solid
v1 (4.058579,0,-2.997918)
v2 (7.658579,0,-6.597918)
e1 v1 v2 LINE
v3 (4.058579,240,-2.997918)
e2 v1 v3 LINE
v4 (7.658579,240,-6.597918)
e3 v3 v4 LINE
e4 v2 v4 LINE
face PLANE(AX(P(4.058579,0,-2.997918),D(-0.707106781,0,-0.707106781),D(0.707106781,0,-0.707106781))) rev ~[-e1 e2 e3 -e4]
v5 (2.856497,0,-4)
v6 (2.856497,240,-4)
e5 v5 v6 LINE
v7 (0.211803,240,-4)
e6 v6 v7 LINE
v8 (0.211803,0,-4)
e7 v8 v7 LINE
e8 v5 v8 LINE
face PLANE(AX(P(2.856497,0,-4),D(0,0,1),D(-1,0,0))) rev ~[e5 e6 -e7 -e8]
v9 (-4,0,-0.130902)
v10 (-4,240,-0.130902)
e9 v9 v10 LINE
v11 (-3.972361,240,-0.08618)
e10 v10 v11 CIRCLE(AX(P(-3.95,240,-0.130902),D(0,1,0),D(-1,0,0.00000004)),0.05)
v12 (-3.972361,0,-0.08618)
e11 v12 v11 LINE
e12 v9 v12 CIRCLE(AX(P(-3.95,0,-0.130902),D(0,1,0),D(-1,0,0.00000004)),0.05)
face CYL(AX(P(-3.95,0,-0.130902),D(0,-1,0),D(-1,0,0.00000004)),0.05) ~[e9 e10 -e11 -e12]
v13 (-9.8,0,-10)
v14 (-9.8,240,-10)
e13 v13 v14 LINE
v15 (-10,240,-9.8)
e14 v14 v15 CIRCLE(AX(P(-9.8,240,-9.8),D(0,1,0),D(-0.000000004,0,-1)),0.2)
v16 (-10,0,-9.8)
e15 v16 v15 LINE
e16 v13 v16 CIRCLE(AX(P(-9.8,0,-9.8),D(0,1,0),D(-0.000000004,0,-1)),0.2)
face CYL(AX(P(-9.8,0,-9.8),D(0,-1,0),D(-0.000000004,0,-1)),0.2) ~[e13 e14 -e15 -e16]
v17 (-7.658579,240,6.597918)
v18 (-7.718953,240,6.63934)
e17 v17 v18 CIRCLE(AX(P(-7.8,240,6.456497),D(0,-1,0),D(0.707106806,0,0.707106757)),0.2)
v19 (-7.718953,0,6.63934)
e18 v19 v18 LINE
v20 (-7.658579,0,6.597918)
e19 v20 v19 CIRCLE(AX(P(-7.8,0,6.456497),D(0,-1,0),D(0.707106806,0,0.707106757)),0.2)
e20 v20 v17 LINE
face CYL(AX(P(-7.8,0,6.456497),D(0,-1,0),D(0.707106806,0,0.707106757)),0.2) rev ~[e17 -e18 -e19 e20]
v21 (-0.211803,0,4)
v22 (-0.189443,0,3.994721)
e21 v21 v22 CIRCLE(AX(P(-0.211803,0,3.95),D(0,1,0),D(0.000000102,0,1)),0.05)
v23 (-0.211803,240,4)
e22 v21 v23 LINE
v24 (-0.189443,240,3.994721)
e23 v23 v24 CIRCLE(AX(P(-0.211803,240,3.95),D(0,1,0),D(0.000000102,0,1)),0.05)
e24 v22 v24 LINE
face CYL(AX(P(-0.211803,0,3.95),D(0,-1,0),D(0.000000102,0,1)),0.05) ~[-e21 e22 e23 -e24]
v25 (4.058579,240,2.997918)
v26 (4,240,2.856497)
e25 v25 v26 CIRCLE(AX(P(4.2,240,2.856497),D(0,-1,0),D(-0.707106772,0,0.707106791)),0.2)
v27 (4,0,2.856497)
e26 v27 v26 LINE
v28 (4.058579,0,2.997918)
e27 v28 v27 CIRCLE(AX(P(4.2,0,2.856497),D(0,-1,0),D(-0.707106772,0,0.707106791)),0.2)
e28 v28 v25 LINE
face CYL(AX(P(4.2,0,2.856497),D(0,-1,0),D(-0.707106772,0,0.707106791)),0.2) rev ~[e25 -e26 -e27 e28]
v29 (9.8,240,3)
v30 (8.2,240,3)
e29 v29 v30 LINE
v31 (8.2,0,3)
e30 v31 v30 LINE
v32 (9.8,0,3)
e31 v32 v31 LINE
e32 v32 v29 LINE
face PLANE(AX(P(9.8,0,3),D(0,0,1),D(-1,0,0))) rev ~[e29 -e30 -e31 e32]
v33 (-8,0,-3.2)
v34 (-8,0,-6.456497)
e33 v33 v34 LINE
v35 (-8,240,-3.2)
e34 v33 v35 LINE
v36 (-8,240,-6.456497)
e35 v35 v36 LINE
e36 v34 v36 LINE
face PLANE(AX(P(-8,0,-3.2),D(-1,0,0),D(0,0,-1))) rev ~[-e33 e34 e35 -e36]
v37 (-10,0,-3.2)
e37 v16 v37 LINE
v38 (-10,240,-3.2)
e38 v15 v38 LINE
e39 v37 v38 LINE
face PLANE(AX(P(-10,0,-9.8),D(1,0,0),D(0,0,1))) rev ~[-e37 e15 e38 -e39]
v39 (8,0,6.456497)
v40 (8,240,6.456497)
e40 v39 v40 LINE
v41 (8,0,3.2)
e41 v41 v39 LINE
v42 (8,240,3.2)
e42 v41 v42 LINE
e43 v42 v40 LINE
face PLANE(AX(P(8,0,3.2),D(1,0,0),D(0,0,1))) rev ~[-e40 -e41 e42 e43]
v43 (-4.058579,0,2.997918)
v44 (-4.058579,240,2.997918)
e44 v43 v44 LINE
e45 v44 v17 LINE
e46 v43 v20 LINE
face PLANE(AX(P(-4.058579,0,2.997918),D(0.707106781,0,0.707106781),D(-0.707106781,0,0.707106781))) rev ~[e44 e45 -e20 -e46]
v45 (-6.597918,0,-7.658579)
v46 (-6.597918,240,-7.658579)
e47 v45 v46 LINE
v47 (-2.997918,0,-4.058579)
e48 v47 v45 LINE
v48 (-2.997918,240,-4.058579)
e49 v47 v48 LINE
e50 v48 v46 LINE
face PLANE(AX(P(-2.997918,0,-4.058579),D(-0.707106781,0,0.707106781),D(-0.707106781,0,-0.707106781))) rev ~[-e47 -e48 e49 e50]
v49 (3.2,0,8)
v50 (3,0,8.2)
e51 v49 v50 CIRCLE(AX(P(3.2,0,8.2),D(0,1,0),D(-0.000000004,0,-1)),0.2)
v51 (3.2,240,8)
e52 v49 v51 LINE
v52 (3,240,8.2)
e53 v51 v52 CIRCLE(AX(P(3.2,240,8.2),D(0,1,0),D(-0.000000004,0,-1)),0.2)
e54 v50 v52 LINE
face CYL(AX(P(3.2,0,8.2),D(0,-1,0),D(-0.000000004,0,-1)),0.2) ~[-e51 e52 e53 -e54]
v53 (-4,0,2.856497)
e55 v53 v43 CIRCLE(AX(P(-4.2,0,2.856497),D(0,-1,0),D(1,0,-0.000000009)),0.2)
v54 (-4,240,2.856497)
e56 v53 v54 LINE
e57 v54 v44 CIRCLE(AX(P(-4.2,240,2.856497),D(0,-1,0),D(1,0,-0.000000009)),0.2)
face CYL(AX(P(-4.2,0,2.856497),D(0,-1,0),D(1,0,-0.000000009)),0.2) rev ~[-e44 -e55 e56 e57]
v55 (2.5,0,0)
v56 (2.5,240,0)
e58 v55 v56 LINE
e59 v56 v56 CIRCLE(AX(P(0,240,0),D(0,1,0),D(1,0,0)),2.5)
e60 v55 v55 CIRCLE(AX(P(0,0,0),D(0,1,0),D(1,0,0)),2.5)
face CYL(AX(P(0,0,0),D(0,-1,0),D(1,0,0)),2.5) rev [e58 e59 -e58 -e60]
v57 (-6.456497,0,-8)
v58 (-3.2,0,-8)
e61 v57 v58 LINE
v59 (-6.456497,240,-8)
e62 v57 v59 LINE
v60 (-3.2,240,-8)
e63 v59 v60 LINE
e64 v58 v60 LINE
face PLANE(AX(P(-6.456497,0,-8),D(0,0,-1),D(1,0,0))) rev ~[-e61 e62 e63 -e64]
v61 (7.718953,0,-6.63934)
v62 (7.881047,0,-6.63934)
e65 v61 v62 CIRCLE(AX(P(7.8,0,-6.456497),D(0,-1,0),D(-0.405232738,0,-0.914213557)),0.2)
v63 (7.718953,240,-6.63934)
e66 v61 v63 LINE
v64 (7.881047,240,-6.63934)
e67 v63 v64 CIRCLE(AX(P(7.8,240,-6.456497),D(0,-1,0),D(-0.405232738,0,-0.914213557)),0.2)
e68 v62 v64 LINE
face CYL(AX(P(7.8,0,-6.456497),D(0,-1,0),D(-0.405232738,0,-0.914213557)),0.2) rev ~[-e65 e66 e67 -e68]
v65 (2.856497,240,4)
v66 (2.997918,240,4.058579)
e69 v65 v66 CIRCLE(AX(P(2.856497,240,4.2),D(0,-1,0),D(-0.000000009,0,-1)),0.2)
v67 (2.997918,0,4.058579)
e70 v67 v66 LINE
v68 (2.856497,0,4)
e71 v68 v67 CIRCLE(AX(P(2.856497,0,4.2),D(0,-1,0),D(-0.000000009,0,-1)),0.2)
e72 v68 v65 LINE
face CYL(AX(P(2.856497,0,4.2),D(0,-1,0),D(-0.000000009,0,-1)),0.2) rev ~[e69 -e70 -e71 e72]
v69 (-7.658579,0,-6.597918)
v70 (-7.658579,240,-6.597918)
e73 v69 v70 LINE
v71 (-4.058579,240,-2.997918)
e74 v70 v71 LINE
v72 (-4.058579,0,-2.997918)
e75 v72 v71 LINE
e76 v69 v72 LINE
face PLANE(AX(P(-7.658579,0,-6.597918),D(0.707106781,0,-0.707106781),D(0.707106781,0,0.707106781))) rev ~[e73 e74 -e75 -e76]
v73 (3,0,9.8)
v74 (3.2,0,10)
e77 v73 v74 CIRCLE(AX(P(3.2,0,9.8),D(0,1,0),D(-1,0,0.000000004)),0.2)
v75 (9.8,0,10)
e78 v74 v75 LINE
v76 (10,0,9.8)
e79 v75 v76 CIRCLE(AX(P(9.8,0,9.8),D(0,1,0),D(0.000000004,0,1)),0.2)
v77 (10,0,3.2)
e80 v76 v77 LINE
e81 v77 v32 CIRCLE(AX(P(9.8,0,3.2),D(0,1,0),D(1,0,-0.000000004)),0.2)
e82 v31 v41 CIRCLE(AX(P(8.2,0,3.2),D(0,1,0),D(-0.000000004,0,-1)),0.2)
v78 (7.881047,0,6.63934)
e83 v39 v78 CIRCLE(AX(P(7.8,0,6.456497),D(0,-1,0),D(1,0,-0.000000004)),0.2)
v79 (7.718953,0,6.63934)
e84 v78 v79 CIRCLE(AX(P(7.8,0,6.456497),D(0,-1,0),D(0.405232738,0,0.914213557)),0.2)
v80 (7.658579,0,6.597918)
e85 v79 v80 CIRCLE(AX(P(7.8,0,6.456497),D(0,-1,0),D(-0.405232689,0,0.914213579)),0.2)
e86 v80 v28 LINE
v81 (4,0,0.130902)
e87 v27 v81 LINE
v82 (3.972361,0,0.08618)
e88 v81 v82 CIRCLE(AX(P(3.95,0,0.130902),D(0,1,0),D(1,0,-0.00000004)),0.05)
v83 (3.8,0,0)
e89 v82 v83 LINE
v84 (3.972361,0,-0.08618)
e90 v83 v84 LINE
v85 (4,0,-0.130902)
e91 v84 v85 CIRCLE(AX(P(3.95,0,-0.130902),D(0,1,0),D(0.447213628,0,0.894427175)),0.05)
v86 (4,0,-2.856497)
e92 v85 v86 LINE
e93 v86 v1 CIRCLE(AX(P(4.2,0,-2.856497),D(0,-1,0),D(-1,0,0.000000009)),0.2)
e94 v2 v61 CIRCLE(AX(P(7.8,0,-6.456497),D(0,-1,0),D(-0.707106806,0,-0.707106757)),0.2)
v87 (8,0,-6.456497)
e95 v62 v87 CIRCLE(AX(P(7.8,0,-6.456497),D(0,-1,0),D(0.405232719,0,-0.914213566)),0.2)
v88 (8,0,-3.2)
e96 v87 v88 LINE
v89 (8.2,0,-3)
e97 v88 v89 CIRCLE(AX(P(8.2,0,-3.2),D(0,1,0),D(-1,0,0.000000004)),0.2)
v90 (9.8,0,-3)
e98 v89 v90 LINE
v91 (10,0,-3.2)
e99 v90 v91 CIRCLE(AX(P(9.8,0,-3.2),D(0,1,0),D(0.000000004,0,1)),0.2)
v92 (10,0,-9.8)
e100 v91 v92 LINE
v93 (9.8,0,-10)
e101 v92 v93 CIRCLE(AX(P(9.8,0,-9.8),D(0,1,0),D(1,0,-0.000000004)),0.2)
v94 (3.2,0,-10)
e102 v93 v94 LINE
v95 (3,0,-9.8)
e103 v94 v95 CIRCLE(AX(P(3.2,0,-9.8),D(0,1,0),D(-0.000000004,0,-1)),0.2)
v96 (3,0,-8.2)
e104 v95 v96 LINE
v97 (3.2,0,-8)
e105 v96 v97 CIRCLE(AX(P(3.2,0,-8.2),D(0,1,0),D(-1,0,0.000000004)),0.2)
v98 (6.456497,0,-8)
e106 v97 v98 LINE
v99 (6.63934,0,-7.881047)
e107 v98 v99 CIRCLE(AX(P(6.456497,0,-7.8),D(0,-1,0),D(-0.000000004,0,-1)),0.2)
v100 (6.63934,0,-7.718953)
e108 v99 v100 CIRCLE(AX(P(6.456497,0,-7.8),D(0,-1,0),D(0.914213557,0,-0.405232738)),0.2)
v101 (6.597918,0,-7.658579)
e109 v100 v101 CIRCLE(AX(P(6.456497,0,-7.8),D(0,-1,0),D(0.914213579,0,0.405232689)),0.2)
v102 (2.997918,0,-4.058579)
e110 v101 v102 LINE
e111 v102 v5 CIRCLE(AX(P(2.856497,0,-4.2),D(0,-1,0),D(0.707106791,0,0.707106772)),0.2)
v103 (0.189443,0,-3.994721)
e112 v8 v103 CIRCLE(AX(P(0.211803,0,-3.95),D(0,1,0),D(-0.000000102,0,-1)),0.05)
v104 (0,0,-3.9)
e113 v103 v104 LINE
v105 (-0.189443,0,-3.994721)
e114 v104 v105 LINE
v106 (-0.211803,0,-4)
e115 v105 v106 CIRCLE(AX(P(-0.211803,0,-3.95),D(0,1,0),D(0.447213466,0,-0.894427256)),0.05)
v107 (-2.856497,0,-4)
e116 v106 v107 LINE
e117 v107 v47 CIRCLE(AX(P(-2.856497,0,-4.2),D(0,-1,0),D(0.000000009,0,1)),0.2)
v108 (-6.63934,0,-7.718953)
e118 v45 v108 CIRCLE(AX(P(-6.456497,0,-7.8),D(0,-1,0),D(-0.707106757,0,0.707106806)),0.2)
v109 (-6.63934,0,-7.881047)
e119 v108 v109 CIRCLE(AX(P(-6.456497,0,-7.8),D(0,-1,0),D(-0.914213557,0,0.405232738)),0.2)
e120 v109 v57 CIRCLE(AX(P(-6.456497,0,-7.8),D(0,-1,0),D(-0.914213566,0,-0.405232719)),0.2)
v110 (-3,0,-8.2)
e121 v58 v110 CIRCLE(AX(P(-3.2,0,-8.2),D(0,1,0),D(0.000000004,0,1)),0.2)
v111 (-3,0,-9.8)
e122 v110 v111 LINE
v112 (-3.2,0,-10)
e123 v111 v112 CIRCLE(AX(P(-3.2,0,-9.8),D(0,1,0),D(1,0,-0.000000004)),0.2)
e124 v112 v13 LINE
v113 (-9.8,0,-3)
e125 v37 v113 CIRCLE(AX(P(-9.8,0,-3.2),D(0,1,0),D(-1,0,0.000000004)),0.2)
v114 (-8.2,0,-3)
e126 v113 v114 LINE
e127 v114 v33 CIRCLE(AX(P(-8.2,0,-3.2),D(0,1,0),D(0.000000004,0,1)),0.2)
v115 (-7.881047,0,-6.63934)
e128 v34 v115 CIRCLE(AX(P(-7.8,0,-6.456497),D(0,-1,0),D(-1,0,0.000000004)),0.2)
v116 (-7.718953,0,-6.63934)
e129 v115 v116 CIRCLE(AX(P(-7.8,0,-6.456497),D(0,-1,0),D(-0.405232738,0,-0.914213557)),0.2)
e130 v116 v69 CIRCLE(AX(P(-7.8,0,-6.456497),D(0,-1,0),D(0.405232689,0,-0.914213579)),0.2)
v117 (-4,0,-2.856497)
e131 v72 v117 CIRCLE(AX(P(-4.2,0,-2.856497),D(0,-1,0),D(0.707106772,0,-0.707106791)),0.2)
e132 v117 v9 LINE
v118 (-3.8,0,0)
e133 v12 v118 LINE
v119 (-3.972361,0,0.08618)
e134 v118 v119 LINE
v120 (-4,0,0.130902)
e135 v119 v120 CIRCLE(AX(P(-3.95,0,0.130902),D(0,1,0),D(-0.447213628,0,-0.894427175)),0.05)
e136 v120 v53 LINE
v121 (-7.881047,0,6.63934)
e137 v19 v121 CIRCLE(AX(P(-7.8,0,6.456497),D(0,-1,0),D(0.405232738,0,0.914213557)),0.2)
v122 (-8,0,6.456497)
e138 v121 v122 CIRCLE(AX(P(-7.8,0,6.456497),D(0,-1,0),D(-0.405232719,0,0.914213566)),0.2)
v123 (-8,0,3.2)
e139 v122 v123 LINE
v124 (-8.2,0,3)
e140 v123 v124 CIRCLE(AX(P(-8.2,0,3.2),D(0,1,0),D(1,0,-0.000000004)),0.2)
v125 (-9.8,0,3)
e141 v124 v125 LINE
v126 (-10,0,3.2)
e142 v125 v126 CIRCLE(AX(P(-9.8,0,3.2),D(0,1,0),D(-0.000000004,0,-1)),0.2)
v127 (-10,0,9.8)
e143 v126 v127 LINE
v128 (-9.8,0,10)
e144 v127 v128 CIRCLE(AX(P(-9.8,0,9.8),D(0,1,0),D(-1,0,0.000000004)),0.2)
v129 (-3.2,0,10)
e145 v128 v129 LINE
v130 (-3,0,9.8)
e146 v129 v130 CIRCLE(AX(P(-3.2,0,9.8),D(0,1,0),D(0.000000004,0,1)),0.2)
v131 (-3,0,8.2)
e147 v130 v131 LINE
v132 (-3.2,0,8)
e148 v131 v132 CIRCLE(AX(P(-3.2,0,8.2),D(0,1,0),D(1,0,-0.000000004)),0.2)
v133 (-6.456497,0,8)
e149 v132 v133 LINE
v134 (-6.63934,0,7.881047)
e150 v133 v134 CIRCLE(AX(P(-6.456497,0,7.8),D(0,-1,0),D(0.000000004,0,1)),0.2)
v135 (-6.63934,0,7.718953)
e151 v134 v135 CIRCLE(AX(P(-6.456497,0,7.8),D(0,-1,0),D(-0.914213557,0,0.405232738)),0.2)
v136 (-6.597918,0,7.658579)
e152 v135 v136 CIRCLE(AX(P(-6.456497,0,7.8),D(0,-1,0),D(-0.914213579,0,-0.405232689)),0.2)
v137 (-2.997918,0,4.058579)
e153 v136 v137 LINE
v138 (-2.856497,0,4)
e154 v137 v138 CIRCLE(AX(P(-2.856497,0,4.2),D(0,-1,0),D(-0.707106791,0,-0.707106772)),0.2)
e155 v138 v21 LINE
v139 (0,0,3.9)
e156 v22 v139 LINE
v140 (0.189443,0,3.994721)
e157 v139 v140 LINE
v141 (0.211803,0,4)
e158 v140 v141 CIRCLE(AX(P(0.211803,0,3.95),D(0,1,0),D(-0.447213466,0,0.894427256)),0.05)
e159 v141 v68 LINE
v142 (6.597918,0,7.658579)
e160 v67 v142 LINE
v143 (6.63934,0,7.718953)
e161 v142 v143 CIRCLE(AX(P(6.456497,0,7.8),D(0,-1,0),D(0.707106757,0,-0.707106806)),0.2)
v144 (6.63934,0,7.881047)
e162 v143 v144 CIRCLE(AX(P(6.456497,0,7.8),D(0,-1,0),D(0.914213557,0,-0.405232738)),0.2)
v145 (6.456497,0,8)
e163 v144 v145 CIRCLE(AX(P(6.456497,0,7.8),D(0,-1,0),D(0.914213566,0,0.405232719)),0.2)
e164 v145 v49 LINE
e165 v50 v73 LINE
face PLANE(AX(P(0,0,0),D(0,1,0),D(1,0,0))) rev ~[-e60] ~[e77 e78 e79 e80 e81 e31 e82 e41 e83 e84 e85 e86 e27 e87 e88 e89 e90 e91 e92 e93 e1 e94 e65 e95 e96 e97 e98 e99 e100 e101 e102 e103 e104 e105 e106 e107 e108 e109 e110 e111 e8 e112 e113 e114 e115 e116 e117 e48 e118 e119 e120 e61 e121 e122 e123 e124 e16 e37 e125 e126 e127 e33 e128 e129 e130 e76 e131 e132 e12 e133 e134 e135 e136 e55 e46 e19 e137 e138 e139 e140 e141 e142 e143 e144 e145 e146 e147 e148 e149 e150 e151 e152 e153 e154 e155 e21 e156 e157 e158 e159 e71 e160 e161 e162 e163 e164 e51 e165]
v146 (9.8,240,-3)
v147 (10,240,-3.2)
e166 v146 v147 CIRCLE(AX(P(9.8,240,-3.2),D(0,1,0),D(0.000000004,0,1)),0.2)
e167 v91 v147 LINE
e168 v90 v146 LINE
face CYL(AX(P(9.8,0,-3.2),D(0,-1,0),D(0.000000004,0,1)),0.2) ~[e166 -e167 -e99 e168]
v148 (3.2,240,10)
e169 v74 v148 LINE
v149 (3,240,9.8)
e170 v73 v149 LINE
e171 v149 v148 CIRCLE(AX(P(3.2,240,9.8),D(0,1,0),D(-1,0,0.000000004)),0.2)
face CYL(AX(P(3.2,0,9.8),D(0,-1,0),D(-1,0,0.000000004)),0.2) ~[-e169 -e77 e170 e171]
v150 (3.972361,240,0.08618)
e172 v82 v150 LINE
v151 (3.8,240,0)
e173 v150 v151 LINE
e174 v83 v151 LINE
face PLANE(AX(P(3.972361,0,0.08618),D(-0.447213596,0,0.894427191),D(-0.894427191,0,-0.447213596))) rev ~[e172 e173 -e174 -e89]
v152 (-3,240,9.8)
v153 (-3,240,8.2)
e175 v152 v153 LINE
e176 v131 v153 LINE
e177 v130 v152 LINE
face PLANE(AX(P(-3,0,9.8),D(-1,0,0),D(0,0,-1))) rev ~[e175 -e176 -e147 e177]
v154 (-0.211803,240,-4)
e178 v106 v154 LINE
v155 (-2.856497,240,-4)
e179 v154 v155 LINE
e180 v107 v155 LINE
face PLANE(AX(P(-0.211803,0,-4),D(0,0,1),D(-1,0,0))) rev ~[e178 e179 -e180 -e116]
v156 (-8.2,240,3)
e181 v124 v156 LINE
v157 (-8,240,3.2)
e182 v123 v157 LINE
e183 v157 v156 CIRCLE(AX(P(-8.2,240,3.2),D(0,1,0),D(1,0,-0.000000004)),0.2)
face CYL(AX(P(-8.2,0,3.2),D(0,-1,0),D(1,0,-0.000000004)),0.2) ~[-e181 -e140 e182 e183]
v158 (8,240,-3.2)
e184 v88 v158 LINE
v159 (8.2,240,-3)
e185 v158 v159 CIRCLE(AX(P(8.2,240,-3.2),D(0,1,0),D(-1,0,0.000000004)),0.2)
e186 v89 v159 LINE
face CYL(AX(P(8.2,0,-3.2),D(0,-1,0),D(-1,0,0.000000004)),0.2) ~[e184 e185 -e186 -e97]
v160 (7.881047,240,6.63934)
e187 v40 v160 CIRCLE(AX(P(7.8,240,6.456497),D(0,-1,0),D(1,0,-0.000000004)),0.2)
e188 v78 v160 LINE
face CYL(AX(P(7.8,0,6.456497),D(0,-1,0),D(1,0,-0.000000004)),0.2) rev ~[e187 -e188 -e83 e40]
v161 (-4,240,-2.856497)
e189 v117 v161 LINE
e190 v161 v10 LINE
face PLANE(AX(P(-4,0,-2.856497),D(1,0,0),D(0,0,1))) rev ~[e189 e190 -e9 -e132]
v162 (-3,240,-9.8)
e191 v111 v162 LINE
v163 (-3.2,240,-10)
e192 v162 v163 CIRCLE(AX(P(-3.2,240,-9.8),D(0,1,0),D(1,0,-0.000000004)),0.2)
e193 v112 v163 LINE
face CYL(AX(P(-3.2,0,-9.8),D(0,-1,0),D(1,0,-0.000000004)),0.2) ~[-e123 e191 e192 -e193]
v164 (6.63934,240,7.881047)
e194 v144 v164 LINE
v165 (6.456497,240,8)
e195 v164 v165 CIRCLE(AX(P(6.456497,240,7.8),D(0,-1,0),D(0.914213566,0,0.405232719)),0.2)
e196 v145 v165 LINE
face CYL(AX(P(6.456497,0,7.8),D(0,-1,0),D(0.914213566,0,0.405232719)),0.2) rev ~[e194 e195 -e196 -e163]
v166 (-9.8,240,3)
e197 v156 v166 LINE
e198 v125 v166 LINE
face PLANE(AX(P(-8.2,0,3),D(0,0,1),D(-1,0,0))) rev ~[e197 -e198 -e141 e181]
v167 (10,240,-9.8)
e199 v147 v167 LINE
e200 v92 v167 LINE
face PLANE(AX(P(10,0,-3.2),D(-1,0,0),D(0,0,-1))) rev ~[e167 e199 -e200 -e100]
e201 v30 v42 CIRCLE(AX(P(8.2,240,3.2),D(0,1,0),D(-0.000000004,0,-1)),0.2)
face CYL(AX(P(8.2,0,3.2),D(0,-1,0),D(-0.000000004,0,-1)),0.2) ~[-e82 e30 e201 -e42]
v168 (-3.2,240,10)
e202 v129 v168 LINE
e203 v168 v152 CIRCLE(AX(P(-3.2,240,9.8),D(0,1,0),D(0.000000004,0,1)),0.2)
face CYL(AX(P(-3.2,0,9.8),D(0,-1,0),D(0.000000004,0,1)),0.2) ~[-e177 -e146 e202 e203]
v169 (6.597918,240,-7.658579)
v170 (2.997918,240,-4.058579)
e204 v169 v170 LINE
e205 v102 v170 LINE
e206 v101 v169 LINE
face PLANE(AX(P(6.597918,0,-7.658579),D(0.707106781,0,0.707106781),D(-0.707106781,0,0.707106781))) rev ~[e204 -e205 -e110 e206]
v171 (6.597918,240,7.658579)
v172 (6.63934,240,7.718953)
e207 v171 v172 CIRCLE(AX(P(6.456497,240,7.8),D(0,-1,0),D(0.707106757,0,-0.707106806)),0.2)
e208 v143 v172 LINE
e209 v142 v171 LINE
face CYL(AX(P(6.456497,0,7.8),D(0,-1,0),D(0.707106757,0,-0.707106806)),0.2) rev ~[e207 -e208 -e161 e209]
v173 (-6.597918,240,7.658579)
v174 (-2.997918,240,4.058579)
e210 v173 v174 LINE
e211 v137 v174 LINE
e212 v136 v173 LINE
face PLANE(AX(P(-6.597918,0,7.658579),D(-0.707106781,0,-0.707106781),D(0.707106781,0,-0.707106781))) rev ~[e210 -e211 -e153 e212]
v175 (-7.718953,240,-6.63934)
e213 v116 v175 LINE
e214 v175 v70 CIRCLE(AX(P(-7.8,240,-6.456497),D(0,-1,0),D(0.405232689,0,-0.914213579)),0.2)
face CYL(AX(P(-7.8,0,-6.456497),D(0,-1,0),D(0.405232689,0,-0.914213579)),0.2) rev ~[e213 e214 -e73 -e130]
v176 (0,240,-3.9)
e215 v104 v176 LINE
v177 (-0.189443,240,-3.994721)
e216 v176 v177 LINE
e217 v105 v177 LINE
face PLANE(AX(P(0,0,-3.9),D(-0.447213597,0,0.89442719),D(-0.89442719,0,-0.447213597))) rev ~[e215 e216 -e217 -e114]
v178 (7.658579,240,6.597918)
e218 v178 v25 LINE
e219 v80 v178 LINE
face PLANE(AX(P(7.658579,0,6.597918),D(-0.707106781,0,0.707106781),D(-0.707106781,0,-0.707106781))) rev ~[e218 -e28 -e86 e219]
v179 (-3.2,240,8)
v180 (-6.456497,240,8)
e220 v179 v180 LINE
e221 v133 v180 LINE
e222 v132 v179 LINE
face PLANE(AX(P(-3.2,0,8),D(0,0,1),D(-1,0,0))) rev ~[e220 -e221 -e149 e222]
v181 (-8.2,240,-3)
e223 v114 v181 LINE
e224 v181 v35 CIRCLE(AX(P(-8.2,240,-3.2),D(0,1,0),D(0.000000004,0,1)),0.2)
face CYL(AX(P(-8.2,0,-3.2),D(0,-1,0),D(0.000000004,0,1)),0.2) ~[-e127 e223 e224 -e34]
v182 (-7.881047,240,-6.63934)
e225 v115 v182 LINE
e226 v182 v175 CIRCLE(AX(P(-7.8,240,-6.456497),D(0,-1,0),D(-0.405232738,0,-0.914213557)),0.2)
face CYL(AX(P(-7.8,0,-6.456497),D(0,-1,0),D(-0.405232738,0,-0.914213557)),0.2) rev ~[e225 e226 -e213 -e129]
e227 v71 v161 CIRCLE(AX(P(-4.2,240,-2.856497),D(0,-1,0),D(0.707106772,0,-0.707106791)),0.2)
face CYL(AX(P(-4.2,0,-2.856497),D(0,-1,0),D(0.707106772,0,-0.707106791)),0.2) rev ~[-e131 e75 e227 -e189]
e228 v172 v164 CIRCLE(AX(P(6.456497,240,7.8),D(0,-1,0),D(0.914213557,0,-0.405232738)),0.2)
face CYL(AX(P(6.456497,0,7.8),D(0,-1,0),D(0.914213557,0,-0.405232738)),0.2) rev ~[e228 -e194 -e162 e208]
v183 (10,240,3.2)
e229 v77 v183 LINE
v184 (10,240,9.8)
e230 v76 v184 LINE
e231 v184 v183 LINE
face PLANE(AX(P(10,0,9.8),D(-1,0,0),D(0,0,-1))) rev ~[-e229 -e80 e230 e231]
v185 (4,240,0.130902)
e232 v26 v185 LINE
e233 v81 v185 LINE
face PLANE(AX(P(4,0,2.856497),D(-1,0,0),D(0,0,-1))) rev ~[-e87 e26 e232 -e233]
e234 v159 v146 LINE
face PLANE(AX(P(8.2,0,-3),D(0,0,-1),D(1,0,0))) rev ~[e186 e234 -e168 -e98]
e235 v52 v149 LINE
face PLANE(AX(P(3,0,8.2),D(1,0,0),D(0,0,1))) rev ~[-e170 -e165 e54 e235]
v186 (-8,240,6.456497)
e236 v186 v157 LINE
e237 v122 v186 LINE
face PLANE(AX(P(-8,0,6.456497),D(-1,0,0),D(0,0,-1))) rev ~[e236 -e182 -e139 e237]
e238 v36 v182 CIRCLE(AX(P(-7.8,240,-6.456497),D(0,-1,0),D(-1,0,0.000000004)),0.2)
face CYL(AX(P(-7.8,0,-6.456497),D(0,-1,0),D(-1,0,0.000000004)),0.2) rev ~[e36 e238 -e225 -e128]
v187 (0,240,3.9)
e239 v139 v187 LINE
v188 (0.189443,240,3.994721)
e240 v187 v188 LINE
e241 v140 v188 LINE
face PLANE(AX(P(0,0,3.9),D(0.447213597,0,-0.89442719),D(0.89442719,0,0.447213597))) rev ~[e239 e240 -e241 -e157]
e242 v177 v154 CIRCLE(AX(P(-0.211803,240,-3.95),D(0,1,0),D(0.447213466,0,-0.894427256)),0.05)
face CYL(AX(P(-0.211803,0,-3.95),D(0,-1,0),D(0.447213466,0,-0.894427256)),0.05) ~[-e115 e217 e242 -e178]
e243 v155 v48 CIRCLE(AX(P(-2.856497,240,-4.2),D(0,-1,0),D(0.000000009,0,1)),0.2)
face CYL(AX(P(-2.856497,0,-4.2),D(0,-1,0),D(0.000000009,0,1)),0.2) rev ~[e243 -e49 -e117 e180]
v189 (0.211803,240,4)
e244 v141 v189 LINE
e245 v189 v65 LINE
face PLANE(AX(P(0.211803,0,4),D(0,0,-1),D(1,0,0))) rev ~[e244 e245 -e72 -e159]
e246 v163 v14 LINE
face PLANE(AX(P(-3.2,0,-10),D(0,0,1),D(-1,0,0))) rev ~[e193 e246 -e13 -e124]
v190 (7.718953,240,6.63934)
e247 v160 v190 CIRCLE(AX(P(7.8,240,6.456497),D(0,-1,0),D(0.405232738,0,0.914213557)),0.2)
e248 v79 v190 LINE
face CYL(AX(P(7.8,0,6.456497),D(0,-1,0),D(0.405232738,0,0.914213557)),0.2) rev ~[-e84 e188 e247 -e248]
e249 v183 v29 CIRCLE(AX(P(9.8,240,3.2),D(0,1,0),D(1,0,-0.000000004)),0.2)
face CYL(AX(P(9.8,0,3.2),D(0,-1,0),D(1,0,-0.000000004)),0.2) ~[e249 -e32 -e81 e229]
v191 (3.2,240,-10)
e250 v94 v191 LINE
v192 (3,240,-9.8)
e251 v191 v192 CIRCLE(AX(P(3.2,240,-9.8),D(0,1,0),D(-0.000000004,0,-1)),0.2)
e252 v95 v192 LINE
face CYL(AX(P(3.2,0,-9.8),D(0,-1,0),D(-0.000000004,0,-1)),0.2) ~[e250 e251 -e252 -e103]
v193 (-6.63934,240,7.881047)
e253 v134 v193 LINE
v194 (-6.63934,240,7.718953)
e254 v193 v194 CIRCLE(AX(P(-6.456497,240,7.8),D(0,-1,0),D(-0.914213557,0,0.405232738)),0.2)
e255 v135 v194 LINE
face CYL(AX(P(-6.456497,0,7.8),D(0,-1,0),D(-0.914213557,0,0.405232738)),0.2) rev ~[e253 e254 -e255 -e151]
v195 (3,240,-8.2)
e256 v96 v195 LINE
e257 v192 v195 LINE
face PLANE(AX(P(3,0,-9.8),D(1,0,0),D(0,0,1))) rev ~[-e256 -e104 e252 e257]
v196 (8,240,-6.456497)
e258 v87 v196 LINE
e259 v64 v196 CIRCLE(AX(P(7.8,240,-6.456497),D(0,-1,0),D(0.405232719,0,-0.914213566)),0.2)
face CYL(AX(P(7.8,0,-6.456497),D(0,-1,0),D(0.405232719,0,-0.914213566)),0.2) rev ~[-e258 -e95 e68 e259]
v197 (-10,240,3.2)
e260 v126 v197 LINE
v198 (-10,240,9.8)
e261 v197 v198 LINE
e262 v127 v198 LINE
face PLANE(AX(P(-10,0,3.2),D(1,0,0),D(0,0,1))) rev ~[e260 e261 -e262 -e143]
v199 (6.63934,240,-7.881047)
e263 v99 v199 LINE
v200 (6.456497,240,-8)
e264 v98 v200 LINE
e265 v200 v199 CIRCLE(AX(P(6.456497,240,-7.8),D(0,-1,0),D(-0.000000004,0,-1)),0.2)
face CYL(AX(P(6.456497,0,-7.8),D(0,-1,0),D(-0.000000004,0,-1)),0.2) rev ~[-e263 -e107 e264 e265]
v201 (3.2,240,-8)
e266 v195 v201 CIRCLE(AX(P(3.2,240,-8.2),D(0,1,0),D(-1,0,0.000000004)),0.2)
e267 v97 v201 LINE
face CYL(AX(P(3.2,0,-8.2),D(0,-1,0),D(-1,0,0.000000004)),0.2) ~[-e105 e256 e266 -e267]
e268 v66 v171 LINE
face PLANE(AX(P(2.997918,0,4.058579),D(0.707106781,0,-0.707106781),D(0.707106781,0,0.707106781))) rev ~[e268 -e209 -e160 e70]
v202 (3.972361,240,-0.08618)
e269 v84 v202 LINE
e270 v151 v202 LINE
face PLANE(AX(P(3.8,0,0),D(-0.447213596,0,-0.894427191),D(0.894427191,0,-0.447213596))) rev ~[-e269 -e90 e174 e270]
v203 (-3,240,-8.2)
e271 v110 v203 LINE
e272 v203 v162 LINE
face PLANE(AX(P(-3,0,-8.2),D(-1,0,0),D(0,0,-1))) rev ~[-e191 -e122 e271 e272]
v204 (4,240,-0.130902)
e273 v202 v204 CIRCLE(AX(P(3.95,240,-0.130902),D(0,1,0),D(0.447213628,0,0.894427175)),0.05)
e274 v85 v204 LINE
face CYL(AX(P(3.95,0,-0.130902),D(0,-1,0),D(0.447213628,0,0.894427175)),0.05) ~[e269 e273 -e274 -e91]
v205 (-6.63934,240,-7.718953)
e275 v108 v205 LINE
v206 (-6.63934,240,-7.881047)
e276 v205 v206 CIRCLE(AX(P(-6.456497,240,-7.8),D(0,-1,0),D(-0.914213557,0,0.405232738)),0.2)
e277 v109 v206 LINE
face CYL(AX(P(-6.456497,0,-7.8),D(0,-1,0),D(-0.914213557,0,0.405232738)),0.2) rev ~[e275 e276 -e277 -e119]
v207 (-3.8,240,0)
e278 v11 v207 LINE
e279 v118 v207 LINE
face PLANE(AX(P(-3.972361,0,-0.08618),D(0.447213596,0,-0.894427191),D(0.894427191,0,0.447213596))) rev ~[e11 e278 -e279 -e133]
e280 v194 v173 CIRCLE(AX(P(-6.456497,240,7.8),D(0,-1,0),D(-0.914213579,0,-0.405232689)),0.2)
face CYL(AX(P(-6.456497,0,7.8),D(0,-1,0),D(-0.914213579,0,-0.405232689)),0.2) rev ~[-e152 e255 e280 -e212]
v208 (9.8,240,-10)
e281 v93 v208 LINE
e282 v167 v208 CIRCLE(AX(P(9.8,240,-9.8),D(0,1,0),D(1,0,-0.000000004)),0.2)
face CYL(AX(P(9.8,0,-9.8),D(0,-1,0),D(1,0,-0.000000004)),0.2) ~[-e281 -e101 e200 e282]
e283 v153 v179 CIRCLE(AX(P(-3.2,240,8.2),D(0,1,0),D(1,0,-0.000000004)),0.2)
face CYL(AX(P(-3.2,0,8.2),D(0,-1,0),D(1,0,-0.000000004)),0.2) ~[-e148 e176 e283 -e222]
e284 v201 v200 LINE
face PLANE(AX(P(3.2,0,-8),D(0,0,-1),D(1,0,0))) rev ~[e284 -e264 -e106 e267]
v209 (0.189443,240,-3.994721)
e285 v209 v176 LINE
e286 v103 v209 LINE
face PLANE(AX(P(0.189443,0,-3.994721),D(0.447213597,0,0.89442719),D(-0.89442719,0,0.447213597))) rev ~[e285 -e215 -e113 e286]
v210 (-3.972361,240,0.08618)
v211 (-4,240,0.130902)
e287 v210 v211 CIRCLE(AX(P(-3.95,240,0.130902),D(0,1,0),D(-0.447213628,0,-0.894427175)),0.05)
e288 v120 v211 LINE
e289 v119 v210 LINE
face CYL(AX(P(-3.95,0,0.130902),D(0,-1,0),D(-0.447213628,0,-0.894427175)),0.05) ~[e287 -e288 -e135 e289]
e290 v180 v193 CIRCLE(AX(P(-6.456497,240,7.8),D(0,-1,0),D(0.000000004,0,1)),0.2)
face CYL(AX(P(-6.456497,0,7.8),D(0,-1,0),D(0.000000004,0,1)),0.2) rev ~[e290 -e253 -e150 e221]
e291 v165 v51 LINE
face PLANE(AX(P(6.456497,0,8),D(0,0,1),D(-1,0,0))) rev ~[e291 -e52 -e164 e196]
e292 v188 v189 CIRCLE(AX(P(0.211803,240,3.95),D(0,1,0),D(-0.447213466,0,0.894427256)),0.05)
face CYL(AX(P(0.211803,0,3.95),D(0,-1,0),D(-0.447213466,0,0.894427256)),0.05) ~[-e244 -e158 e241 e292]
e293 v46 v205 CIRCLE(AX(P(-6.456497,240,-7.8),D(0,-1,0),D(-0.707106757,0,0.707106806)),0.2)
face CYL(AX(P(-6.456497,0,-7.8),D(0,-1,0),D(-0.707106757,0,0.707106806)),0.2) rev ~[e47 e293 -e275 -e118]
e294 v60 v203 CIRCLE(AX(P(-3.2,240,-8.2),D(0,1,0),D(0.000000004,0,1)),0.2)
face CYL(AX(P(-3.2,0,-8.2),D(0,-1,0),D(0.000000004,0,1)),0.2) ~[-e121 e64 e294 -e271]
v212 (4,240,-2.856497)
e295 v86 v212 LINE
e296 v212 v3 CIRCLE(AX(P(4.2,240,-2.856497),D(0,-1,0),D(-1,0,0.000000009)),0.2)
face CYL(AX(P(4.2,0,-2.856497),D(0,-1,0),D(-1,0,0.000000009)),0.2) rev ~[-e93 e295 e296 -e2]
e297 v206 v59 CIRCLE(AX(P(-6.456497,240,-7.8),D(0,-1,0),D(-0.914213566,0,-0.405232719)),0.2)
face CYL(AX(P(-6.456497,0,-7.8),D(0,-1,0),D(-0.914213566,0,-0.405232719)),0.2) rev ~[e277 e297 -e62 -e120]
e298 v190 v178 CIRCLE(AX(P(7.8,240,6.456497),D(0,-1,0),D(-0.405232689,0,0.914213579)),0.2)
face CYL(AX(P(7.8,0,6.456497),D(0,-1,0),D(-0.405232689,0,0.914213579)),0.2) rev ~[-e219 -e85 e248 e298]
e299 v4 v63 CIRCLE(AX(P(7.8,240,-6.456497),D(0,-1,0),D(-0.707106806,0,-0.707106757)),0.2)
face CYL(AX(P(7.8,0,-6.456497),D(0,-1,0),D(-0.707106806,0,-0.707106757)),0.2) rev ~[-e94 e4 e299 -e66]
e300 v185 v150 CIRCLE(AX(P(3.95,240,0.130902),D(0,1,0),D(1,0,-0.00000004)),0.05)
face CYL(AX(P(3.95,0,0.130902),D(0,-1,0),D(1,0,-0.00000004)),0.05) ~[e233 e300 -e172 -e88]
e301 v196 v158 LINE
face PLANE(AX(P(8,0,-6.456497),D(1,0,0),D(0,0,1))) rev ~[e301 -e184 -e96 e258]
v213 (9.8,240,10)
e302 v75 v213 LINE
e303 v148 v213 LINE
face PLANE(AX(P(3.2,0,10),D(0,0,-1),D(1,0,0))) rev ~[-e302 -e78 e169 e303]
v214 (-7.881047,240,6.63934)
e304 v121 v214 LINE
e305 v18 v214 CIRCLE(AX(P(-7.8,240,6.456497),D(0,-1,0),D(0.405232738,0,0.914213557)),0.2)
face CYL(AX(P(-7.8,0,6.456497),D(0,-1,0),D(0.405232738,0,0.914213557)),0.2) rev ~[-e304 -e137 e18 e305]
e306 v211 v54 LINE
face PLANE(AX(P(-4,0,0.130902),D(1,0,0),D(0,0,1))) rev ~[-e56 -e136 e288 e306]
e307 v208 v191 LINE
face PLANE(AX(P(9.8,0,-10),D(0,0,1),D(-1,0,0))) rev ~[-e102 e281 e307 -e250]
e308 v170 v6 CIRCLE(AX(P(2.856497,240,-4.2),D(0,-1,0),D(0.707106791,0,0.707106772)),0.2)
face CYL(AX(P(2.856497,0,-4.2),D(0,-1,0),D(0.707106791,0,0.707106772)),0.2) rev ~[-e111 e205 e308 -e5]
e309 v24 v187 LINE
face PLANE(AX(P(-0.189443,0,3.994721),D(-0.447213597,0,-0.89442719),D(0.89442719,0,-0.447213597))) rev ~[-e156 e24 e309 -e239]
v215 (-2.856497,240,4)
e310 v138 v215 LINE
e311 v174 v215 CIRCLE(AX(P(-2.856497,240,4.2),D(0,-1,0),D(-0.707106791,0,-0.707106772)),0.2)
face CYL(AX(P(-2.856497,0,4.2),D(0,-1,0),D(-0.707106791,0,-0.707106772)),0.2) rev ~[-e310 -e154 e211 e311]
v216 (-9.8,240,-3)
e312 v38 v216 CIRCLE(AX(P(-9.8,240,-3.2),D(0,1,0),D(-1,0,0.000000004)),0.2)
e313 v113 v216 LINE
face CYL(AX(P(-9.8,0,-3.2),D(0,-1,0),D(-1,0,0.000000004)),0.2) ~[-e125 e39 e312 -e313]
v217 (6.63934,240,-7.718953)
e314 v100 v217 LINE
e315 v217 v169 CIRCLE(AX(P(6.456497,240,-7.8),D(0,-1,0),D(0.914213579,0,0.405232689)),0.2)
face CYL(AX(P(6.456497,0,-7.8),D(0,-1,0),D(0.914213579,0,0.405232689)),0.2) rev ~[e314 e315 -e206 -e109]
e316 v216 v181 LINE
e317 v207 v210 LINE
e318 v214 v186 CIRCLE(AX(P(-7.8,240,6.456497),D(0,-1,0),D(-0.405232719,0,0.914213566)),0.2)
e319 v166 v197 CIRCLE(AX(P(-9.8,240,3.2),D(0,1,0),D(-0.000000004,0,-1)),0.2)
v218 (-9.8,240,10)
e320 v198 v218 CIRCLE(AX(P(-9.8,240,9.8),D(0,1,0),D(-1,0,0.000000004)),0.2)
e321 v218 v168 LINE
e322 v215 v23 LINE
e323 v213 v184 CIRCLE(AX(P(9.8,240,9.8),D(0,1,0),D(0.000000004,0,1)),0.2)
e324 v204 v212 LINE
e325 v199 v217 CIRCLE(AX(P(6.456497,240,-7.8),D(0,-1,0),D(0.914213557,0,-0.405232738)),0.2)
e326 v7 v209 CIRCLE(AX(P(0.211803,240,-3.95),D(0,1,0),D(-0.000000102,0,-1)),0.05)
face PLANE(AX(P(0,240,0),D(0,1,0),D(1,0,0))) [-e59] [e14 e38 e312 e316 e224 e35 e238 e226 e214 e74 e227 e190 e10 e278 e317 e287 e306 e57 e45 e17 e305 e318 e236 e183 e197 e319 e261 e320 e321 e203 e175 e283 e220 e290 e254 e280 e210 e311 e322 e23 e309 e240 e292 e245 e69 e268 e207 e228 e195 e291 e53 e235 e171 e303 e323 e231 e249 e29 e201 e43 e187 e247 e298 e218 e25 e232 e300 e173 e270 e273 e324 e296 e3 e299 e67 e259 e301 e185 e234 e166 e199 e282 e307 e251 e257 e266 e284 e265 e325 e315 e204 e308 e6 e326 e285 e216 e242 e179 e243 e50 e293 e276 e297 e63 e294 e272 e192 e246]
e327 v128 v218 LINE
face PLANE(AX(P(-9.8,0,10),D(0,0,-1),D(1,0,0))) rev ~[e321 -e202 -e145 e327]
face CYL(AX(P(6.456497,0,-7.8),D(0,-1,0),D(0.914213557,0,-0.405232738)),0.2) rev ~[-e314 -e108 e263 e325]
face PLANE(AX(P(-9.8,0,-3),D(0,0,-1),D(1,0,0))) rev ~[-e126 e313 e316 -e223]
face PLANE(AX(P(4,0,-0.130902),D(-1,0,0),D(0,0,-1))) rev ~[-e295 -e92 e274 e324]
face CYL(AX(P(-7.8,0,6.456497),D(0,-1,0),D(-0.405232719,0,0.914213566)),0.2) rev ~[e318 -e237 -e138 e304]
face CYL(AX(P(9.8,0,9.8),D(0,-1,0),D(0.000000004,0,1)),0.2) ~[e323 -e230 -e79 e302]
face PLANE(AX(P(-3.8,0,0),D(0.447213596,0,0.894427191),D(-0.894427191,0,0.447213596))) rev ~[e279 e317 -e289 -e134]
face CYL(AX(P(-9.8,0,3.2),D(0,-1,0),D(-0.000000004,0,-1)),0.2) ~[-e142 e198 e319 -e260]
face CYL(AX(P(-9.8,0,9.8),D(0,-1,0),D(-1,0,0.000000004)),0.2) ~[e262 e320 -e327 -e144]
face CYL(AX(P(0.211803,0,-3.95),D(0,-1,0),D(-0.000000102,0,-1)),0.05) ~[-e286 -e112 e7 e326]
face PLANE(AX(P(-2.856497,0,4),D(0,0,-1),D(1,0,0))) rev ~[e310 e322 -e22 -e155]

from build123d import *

# Parameters (mm, degrees)
SKETCH1_R           = 2.5
BOSS_EXTRUDE1_DEPTH = 240


with BuildPart() as part:
    # Sketch1 → Boss-Extrude1 (new body)
    with BuildSketch(Plane(origin=(0, 0, 0), x_dir=(1, 0, 0), z_dir=(0, 1, 0))):
        with BuildLine():
            Line((-2.997918472, 4.058578644), (-6.597918472, 7.658578644))
            ThreePointArc((-6.597918472, 7.658578644), (-6.621415508, 7.686854412), (-6.639339828, 7.718953455))
            ThreePointArc((-6.639339828, 7.718953455), (-6.656497116, 7.8), (-6.639339828, 7.881046545))
            ThreePointArc((-6.639339828, 7.881046545), (-6.565562901, 7.967644429), (-6.456497116, 8))
            Line((-6.456497116, 8), (-3.2, 8))
            ThreePointArc((-3.2, 8), (-3.058578644, 8.058578644), (-3, 8.2))
            Line((-3, 8.2), (-3, 9.8))
            ThreePointArc((-3, 9.8), (-3.058578644, 9.941421356), (-3.2, 10))
            Line((-3.2, 10), (-9.8, 10))
            ThreePointArc((-9.8, 10), (-9.941421356, 9.941421356), (-10, 9.8))
            Line((-10, 9.8), (-10, 3.2))
            ThreePointArc((-10, 3.2), (-9.941421356, 3.058578644), (-9.8, 3))
            Line((-9.8, 3), (-8.2, 3))
            ThreePointArc((-8.2, 3), (-8.058578644, 3.058578644), (-8, 3.2))
            Line((-8, 3.2), (-8, 6.456497116))
            ThreePointArc((-8, 6.456497116), (-7.967644429, 6.565562901), (-7.881046545, 6.639339828))
            ThreePointArc((-7.881046545, 6.639339828), (-7.8, 6.656497116), (-7.718953455, 6.639339828))
            ThreePointArc((-7.718953455, 6.639339828), (-7.686854412, 6.621415508), (-7.658578644, 6.597918472))
            Line((-7.658578644, 6.597918472), (-4.058578644, 2.997918472))
            ThreePointArc((-4.058578644, 2.997918472), (-4.015224093, 2.933033802), (-4, 2.856497116))
            Line((-4, 2.856497116), (-4, 0.130901699))
            ThreePointArc((-4, 0.130901699), (-3.99253254, 0.104615144), (-3.97236068, 0.08618034))
            Line((-3.97236068, 0.08618034), (-3.8, 0))
            Line((-3.8, 0), (-3.97236068, -0.08618034))
            ThreePointArc((-3.97236068, -0.08618034), (-3.99253254, -0.104615144), (-4, -0.130901699))
            Line((-4, -0.130901699), (-4, -2.856497116))
            ThreePointArc((-4, -2.856497116), (-4.015224093, -2.933033802), (-4.058578644, -2.997918472))
            Line((-4.058578644, -2.997918472), (-7.658578644, -6.597918472))
            ThreePointArc((-7.658578644, -6.597918472), (-7.686854412, -6.621415508), (-7.718953455, -6.639339828))
            ThreePointArc((-7.718953455, -6.639339828), (-7.8, -6.656497116), (-7.881046545, -6.639339828))
            ThreePointArc((-7.881046545, -6.639339828), (-7.967644429, -6.565562901), (-8, -6.456497116))
            Line((-8, -6.456497116), (-8, -3.2))
            ThreePointArc((-8, -3.2), (-8.058578644, -3.058578644), (-8.2, -3))
            Line((-8.2, -3), (-9.8, -3))
            ThreePointArc((-9.8, -3), (-9.941421356, -3.058578644), (-10, -3.2))
            Line((-10, -3.2), (-10, -9.8))
            ThreePointArc((-10, -9.8), (-9.941421356, -9.941421356), (-9.8, -10))
            Line((-9.8, -10), (-3.2, -10))
            ThreePointArc((-3.2, -10), (-3.058578644, -9.941421356), (-3, -9.8))
            Line((-3, -9.8), (-3, -8.2))
            ThreePointArc((-3, -8.2), (-3.058578644, -8.058578644), (-3.2, -8))
            Line((-3.2, -8), (-6.456497116, -8))
            ThreePointArc((-6.456497116, -8), (-6.565562901, -7.967644429), (-6.639339828, -7.881046545))
            ThreePointArc((-6.639339828, -7.881046545), (-6.656497116, -7.8), (-6.639339828, -7.718953455))
            ThreePointArc((-6.639339828, -7.718953455), (-6.621415508, -7.686854412), (-6.597918472, -7.658578644))
            Line((-6.597918472, -7.658578644), (-2.997918472, -4.058578644))
            ThreePointArc((-2.997918472, -4.058578644), (-2.933033802, -4.015224093), (-2.856497116, -4))
            Line((-2.856497116, -4), (-0.211803399, -4))
            ThreePointArc((-0.211803399, -4), (-0.200315753, -3.998662449), (-0.189442719, -3.99472136))
            Line((-0.189442719, -3.99472136), (0, -3.9))
            Line((0, -3.9), (0.189442719, -3.99472136))
            ThreePointArc((0.189442719, -3.99472136), (0.200315753, -3.998662449), (0.211803399, -4))
            Line((0.211803399, -4), (2.856497116, -4))
            ThreePointArc((2.856497116, -4), (2.933033802, -4.015224093), (2.997918472, -4.058578644))
            Line((2.997918472, -4.058578644), (6.597918472, -7.658578644))
            ThreePointArc((6.597918472, -7.658578644), (6.621415508, -7.686854412), (6.639339828, -7.718953455))
            ThreePointArc((6.639339828, -7.718953455), (6.656497116, -7.8), (6.639339828, -7.881046545))
            ThreePointArc((6.639339828, -7.881046545), (6.565562901, -7.967644429), (6.456497116, -8))
            Line((6.456497116, -8), (3.2, -8))
            ThreePointArc((3.2, -8), (3.058578644, -8.058578644), (3, -8.2))
            Line((3, -8.2), (3, -9.8))
            ThreePointArc((3, -9.8), (3.058578644, -9.941421356), (3.2, -10))
            Line((3.2, -10), (9.8, -10))
            ThreePointArc((9.8, -10), (9.941421356, -9.941421356), (10, -9.8))
            Line((10, -9.8), (10, -3.2))
            ThreePointArc((10, -3.2), (9.941421356, -3.058578644), (9.8, -3))
            Line((9.8, -3), (8.2, -3))
            ThreePointArc((8.2, -3), (8.058578644, -3.058578644), (8, -3.2))
            Line((8, -3.2), (8, -6.456497116))
            ThreePointArc((8, -6.456497116), (7.967644429, -6.565562901), (7.881046545, -6.639339828))
            ThreePointArc((7.881046545, -6.639339828), (7.8, -6.656497116), (7.718953455, -6.639339828))
            ThreePointArc((7.718953455, -6.639339828), (7.686854412, -6.621415508), (7.658578644, -6.597918472))
            Line((7.658578644, -6.597918472), (4.058578644, -2.997918472))
            ThreePointArc((4.058578644, -2.997918472), (4.015224093, -2.933033802), (4, -2.856497116))
            Line((4, -2.856497116), (4, -0.130901699))
            ThreePointArc((4, -0.130901699), (3.99253254, -0.104615144), (3.97236068, -0.08618034))
            Line((3.97236068, -0.08618034), (3.8, 0))
            Line((3.8, 0), (3.97236068, 0.08618034))
            ThreePointArc((3.97236068, 0.08618034), (3.99253254, 0.104615144), (4, 0.130901699))
            Line((4, 0.130901699), (4, 2.856497116))
            ThreePointArc((4, 2.856497116), (4.015224093, 2.933033802), (4.058578644, 2.997918472))
            Line((4.058578644, 2.997918472), (7.658578644, 6.597918472))
            ThreePointArc((7.658578644, 6.597918472), (7.686854412, 6.621415508), (7.718953455, 6.639339828))
            ThreePointArc((7.718953455, 6.639339828), (7.8, 6.656497116), (7.881046545, 6.639339828))
            ThreePointArc((7.881046545, 6.639339828), (7.967644429, 6.565562901), (8, 6.456497116))
            Line((8, 6.456497116), (8, 3.2))
            ThreePointArc((8, 3.2), (8.058578644, 3.058578644), (8.2, 3))
            Line((8.2, 3), (9.8, 3))
            ThreePointArc((9.8, 3), (9.941421356, 3.058578644), (10, 3.2))
            Line((10, 3.2), (10, 9.8))
            ThreePointArc((10, 9.8), (9.941421356, 9.941421356), (9.8, 10))
            Line((9.8, 10), (3.2, 10))
            ThreePointArc((3.2, 10), (3.058578644, 9.941421356), (3, 9.8))
            Line((3, 9.8), (3, 8.2))
            ThreePointArc((3, 8.2), (3.058578644, 8.058578644), (3.2, 8))
            Line((3.2, 8), (6.456497116, 8))
            ThreePointArc((6.456497116, 8), (6.565562901, 7.967644429), (6.639339828, 7.881046545))
            ThreePointArc((6.639339828, 7.881046545), (6.656497116, 7.8), (6.639339828, 7.718953455))
            ThreePointArc((6.639339828, 7.718953455), (6.621415508, 7.686854412), (6.597918472, 7.658578644))
            Line((6.597918472, 7.658578644), (2.997918472, 4.058578644))
            ThreePointArc((2.997918472, 4.058578644), (2.933033802, 4.015224093), (2.856497116, 4))
            Line((2.856497116, 4), (0.211803399, 4))
            ThreePointArc((0.211803399, 4), (0.200315753, 3.998662449), (0.189442719, 3.99472136))
            Line((0.189442719, 3.99472136), (0, 3.9))
            Line((0, 3.9), (-0.189442719, 3.99472136))
            ThreePointArc((-0.189442719, 3.99472136), (-0.200315753, 3.998662449), (-0.211803399, 4))
            Line((-0.211803399, 4), (-2.856497116, 4))
            ThreePointArc((-2.856497116, 4), (-2.933033802, 4.015224093), (-2.997918472, 4.058578644))
        make_face()
        Circle(SKETCH1_R, mode=Mode.SUBTRACT)
    extrude(amount=BOSS_EXTRUDE1_DEPTH)


solid = part.part
